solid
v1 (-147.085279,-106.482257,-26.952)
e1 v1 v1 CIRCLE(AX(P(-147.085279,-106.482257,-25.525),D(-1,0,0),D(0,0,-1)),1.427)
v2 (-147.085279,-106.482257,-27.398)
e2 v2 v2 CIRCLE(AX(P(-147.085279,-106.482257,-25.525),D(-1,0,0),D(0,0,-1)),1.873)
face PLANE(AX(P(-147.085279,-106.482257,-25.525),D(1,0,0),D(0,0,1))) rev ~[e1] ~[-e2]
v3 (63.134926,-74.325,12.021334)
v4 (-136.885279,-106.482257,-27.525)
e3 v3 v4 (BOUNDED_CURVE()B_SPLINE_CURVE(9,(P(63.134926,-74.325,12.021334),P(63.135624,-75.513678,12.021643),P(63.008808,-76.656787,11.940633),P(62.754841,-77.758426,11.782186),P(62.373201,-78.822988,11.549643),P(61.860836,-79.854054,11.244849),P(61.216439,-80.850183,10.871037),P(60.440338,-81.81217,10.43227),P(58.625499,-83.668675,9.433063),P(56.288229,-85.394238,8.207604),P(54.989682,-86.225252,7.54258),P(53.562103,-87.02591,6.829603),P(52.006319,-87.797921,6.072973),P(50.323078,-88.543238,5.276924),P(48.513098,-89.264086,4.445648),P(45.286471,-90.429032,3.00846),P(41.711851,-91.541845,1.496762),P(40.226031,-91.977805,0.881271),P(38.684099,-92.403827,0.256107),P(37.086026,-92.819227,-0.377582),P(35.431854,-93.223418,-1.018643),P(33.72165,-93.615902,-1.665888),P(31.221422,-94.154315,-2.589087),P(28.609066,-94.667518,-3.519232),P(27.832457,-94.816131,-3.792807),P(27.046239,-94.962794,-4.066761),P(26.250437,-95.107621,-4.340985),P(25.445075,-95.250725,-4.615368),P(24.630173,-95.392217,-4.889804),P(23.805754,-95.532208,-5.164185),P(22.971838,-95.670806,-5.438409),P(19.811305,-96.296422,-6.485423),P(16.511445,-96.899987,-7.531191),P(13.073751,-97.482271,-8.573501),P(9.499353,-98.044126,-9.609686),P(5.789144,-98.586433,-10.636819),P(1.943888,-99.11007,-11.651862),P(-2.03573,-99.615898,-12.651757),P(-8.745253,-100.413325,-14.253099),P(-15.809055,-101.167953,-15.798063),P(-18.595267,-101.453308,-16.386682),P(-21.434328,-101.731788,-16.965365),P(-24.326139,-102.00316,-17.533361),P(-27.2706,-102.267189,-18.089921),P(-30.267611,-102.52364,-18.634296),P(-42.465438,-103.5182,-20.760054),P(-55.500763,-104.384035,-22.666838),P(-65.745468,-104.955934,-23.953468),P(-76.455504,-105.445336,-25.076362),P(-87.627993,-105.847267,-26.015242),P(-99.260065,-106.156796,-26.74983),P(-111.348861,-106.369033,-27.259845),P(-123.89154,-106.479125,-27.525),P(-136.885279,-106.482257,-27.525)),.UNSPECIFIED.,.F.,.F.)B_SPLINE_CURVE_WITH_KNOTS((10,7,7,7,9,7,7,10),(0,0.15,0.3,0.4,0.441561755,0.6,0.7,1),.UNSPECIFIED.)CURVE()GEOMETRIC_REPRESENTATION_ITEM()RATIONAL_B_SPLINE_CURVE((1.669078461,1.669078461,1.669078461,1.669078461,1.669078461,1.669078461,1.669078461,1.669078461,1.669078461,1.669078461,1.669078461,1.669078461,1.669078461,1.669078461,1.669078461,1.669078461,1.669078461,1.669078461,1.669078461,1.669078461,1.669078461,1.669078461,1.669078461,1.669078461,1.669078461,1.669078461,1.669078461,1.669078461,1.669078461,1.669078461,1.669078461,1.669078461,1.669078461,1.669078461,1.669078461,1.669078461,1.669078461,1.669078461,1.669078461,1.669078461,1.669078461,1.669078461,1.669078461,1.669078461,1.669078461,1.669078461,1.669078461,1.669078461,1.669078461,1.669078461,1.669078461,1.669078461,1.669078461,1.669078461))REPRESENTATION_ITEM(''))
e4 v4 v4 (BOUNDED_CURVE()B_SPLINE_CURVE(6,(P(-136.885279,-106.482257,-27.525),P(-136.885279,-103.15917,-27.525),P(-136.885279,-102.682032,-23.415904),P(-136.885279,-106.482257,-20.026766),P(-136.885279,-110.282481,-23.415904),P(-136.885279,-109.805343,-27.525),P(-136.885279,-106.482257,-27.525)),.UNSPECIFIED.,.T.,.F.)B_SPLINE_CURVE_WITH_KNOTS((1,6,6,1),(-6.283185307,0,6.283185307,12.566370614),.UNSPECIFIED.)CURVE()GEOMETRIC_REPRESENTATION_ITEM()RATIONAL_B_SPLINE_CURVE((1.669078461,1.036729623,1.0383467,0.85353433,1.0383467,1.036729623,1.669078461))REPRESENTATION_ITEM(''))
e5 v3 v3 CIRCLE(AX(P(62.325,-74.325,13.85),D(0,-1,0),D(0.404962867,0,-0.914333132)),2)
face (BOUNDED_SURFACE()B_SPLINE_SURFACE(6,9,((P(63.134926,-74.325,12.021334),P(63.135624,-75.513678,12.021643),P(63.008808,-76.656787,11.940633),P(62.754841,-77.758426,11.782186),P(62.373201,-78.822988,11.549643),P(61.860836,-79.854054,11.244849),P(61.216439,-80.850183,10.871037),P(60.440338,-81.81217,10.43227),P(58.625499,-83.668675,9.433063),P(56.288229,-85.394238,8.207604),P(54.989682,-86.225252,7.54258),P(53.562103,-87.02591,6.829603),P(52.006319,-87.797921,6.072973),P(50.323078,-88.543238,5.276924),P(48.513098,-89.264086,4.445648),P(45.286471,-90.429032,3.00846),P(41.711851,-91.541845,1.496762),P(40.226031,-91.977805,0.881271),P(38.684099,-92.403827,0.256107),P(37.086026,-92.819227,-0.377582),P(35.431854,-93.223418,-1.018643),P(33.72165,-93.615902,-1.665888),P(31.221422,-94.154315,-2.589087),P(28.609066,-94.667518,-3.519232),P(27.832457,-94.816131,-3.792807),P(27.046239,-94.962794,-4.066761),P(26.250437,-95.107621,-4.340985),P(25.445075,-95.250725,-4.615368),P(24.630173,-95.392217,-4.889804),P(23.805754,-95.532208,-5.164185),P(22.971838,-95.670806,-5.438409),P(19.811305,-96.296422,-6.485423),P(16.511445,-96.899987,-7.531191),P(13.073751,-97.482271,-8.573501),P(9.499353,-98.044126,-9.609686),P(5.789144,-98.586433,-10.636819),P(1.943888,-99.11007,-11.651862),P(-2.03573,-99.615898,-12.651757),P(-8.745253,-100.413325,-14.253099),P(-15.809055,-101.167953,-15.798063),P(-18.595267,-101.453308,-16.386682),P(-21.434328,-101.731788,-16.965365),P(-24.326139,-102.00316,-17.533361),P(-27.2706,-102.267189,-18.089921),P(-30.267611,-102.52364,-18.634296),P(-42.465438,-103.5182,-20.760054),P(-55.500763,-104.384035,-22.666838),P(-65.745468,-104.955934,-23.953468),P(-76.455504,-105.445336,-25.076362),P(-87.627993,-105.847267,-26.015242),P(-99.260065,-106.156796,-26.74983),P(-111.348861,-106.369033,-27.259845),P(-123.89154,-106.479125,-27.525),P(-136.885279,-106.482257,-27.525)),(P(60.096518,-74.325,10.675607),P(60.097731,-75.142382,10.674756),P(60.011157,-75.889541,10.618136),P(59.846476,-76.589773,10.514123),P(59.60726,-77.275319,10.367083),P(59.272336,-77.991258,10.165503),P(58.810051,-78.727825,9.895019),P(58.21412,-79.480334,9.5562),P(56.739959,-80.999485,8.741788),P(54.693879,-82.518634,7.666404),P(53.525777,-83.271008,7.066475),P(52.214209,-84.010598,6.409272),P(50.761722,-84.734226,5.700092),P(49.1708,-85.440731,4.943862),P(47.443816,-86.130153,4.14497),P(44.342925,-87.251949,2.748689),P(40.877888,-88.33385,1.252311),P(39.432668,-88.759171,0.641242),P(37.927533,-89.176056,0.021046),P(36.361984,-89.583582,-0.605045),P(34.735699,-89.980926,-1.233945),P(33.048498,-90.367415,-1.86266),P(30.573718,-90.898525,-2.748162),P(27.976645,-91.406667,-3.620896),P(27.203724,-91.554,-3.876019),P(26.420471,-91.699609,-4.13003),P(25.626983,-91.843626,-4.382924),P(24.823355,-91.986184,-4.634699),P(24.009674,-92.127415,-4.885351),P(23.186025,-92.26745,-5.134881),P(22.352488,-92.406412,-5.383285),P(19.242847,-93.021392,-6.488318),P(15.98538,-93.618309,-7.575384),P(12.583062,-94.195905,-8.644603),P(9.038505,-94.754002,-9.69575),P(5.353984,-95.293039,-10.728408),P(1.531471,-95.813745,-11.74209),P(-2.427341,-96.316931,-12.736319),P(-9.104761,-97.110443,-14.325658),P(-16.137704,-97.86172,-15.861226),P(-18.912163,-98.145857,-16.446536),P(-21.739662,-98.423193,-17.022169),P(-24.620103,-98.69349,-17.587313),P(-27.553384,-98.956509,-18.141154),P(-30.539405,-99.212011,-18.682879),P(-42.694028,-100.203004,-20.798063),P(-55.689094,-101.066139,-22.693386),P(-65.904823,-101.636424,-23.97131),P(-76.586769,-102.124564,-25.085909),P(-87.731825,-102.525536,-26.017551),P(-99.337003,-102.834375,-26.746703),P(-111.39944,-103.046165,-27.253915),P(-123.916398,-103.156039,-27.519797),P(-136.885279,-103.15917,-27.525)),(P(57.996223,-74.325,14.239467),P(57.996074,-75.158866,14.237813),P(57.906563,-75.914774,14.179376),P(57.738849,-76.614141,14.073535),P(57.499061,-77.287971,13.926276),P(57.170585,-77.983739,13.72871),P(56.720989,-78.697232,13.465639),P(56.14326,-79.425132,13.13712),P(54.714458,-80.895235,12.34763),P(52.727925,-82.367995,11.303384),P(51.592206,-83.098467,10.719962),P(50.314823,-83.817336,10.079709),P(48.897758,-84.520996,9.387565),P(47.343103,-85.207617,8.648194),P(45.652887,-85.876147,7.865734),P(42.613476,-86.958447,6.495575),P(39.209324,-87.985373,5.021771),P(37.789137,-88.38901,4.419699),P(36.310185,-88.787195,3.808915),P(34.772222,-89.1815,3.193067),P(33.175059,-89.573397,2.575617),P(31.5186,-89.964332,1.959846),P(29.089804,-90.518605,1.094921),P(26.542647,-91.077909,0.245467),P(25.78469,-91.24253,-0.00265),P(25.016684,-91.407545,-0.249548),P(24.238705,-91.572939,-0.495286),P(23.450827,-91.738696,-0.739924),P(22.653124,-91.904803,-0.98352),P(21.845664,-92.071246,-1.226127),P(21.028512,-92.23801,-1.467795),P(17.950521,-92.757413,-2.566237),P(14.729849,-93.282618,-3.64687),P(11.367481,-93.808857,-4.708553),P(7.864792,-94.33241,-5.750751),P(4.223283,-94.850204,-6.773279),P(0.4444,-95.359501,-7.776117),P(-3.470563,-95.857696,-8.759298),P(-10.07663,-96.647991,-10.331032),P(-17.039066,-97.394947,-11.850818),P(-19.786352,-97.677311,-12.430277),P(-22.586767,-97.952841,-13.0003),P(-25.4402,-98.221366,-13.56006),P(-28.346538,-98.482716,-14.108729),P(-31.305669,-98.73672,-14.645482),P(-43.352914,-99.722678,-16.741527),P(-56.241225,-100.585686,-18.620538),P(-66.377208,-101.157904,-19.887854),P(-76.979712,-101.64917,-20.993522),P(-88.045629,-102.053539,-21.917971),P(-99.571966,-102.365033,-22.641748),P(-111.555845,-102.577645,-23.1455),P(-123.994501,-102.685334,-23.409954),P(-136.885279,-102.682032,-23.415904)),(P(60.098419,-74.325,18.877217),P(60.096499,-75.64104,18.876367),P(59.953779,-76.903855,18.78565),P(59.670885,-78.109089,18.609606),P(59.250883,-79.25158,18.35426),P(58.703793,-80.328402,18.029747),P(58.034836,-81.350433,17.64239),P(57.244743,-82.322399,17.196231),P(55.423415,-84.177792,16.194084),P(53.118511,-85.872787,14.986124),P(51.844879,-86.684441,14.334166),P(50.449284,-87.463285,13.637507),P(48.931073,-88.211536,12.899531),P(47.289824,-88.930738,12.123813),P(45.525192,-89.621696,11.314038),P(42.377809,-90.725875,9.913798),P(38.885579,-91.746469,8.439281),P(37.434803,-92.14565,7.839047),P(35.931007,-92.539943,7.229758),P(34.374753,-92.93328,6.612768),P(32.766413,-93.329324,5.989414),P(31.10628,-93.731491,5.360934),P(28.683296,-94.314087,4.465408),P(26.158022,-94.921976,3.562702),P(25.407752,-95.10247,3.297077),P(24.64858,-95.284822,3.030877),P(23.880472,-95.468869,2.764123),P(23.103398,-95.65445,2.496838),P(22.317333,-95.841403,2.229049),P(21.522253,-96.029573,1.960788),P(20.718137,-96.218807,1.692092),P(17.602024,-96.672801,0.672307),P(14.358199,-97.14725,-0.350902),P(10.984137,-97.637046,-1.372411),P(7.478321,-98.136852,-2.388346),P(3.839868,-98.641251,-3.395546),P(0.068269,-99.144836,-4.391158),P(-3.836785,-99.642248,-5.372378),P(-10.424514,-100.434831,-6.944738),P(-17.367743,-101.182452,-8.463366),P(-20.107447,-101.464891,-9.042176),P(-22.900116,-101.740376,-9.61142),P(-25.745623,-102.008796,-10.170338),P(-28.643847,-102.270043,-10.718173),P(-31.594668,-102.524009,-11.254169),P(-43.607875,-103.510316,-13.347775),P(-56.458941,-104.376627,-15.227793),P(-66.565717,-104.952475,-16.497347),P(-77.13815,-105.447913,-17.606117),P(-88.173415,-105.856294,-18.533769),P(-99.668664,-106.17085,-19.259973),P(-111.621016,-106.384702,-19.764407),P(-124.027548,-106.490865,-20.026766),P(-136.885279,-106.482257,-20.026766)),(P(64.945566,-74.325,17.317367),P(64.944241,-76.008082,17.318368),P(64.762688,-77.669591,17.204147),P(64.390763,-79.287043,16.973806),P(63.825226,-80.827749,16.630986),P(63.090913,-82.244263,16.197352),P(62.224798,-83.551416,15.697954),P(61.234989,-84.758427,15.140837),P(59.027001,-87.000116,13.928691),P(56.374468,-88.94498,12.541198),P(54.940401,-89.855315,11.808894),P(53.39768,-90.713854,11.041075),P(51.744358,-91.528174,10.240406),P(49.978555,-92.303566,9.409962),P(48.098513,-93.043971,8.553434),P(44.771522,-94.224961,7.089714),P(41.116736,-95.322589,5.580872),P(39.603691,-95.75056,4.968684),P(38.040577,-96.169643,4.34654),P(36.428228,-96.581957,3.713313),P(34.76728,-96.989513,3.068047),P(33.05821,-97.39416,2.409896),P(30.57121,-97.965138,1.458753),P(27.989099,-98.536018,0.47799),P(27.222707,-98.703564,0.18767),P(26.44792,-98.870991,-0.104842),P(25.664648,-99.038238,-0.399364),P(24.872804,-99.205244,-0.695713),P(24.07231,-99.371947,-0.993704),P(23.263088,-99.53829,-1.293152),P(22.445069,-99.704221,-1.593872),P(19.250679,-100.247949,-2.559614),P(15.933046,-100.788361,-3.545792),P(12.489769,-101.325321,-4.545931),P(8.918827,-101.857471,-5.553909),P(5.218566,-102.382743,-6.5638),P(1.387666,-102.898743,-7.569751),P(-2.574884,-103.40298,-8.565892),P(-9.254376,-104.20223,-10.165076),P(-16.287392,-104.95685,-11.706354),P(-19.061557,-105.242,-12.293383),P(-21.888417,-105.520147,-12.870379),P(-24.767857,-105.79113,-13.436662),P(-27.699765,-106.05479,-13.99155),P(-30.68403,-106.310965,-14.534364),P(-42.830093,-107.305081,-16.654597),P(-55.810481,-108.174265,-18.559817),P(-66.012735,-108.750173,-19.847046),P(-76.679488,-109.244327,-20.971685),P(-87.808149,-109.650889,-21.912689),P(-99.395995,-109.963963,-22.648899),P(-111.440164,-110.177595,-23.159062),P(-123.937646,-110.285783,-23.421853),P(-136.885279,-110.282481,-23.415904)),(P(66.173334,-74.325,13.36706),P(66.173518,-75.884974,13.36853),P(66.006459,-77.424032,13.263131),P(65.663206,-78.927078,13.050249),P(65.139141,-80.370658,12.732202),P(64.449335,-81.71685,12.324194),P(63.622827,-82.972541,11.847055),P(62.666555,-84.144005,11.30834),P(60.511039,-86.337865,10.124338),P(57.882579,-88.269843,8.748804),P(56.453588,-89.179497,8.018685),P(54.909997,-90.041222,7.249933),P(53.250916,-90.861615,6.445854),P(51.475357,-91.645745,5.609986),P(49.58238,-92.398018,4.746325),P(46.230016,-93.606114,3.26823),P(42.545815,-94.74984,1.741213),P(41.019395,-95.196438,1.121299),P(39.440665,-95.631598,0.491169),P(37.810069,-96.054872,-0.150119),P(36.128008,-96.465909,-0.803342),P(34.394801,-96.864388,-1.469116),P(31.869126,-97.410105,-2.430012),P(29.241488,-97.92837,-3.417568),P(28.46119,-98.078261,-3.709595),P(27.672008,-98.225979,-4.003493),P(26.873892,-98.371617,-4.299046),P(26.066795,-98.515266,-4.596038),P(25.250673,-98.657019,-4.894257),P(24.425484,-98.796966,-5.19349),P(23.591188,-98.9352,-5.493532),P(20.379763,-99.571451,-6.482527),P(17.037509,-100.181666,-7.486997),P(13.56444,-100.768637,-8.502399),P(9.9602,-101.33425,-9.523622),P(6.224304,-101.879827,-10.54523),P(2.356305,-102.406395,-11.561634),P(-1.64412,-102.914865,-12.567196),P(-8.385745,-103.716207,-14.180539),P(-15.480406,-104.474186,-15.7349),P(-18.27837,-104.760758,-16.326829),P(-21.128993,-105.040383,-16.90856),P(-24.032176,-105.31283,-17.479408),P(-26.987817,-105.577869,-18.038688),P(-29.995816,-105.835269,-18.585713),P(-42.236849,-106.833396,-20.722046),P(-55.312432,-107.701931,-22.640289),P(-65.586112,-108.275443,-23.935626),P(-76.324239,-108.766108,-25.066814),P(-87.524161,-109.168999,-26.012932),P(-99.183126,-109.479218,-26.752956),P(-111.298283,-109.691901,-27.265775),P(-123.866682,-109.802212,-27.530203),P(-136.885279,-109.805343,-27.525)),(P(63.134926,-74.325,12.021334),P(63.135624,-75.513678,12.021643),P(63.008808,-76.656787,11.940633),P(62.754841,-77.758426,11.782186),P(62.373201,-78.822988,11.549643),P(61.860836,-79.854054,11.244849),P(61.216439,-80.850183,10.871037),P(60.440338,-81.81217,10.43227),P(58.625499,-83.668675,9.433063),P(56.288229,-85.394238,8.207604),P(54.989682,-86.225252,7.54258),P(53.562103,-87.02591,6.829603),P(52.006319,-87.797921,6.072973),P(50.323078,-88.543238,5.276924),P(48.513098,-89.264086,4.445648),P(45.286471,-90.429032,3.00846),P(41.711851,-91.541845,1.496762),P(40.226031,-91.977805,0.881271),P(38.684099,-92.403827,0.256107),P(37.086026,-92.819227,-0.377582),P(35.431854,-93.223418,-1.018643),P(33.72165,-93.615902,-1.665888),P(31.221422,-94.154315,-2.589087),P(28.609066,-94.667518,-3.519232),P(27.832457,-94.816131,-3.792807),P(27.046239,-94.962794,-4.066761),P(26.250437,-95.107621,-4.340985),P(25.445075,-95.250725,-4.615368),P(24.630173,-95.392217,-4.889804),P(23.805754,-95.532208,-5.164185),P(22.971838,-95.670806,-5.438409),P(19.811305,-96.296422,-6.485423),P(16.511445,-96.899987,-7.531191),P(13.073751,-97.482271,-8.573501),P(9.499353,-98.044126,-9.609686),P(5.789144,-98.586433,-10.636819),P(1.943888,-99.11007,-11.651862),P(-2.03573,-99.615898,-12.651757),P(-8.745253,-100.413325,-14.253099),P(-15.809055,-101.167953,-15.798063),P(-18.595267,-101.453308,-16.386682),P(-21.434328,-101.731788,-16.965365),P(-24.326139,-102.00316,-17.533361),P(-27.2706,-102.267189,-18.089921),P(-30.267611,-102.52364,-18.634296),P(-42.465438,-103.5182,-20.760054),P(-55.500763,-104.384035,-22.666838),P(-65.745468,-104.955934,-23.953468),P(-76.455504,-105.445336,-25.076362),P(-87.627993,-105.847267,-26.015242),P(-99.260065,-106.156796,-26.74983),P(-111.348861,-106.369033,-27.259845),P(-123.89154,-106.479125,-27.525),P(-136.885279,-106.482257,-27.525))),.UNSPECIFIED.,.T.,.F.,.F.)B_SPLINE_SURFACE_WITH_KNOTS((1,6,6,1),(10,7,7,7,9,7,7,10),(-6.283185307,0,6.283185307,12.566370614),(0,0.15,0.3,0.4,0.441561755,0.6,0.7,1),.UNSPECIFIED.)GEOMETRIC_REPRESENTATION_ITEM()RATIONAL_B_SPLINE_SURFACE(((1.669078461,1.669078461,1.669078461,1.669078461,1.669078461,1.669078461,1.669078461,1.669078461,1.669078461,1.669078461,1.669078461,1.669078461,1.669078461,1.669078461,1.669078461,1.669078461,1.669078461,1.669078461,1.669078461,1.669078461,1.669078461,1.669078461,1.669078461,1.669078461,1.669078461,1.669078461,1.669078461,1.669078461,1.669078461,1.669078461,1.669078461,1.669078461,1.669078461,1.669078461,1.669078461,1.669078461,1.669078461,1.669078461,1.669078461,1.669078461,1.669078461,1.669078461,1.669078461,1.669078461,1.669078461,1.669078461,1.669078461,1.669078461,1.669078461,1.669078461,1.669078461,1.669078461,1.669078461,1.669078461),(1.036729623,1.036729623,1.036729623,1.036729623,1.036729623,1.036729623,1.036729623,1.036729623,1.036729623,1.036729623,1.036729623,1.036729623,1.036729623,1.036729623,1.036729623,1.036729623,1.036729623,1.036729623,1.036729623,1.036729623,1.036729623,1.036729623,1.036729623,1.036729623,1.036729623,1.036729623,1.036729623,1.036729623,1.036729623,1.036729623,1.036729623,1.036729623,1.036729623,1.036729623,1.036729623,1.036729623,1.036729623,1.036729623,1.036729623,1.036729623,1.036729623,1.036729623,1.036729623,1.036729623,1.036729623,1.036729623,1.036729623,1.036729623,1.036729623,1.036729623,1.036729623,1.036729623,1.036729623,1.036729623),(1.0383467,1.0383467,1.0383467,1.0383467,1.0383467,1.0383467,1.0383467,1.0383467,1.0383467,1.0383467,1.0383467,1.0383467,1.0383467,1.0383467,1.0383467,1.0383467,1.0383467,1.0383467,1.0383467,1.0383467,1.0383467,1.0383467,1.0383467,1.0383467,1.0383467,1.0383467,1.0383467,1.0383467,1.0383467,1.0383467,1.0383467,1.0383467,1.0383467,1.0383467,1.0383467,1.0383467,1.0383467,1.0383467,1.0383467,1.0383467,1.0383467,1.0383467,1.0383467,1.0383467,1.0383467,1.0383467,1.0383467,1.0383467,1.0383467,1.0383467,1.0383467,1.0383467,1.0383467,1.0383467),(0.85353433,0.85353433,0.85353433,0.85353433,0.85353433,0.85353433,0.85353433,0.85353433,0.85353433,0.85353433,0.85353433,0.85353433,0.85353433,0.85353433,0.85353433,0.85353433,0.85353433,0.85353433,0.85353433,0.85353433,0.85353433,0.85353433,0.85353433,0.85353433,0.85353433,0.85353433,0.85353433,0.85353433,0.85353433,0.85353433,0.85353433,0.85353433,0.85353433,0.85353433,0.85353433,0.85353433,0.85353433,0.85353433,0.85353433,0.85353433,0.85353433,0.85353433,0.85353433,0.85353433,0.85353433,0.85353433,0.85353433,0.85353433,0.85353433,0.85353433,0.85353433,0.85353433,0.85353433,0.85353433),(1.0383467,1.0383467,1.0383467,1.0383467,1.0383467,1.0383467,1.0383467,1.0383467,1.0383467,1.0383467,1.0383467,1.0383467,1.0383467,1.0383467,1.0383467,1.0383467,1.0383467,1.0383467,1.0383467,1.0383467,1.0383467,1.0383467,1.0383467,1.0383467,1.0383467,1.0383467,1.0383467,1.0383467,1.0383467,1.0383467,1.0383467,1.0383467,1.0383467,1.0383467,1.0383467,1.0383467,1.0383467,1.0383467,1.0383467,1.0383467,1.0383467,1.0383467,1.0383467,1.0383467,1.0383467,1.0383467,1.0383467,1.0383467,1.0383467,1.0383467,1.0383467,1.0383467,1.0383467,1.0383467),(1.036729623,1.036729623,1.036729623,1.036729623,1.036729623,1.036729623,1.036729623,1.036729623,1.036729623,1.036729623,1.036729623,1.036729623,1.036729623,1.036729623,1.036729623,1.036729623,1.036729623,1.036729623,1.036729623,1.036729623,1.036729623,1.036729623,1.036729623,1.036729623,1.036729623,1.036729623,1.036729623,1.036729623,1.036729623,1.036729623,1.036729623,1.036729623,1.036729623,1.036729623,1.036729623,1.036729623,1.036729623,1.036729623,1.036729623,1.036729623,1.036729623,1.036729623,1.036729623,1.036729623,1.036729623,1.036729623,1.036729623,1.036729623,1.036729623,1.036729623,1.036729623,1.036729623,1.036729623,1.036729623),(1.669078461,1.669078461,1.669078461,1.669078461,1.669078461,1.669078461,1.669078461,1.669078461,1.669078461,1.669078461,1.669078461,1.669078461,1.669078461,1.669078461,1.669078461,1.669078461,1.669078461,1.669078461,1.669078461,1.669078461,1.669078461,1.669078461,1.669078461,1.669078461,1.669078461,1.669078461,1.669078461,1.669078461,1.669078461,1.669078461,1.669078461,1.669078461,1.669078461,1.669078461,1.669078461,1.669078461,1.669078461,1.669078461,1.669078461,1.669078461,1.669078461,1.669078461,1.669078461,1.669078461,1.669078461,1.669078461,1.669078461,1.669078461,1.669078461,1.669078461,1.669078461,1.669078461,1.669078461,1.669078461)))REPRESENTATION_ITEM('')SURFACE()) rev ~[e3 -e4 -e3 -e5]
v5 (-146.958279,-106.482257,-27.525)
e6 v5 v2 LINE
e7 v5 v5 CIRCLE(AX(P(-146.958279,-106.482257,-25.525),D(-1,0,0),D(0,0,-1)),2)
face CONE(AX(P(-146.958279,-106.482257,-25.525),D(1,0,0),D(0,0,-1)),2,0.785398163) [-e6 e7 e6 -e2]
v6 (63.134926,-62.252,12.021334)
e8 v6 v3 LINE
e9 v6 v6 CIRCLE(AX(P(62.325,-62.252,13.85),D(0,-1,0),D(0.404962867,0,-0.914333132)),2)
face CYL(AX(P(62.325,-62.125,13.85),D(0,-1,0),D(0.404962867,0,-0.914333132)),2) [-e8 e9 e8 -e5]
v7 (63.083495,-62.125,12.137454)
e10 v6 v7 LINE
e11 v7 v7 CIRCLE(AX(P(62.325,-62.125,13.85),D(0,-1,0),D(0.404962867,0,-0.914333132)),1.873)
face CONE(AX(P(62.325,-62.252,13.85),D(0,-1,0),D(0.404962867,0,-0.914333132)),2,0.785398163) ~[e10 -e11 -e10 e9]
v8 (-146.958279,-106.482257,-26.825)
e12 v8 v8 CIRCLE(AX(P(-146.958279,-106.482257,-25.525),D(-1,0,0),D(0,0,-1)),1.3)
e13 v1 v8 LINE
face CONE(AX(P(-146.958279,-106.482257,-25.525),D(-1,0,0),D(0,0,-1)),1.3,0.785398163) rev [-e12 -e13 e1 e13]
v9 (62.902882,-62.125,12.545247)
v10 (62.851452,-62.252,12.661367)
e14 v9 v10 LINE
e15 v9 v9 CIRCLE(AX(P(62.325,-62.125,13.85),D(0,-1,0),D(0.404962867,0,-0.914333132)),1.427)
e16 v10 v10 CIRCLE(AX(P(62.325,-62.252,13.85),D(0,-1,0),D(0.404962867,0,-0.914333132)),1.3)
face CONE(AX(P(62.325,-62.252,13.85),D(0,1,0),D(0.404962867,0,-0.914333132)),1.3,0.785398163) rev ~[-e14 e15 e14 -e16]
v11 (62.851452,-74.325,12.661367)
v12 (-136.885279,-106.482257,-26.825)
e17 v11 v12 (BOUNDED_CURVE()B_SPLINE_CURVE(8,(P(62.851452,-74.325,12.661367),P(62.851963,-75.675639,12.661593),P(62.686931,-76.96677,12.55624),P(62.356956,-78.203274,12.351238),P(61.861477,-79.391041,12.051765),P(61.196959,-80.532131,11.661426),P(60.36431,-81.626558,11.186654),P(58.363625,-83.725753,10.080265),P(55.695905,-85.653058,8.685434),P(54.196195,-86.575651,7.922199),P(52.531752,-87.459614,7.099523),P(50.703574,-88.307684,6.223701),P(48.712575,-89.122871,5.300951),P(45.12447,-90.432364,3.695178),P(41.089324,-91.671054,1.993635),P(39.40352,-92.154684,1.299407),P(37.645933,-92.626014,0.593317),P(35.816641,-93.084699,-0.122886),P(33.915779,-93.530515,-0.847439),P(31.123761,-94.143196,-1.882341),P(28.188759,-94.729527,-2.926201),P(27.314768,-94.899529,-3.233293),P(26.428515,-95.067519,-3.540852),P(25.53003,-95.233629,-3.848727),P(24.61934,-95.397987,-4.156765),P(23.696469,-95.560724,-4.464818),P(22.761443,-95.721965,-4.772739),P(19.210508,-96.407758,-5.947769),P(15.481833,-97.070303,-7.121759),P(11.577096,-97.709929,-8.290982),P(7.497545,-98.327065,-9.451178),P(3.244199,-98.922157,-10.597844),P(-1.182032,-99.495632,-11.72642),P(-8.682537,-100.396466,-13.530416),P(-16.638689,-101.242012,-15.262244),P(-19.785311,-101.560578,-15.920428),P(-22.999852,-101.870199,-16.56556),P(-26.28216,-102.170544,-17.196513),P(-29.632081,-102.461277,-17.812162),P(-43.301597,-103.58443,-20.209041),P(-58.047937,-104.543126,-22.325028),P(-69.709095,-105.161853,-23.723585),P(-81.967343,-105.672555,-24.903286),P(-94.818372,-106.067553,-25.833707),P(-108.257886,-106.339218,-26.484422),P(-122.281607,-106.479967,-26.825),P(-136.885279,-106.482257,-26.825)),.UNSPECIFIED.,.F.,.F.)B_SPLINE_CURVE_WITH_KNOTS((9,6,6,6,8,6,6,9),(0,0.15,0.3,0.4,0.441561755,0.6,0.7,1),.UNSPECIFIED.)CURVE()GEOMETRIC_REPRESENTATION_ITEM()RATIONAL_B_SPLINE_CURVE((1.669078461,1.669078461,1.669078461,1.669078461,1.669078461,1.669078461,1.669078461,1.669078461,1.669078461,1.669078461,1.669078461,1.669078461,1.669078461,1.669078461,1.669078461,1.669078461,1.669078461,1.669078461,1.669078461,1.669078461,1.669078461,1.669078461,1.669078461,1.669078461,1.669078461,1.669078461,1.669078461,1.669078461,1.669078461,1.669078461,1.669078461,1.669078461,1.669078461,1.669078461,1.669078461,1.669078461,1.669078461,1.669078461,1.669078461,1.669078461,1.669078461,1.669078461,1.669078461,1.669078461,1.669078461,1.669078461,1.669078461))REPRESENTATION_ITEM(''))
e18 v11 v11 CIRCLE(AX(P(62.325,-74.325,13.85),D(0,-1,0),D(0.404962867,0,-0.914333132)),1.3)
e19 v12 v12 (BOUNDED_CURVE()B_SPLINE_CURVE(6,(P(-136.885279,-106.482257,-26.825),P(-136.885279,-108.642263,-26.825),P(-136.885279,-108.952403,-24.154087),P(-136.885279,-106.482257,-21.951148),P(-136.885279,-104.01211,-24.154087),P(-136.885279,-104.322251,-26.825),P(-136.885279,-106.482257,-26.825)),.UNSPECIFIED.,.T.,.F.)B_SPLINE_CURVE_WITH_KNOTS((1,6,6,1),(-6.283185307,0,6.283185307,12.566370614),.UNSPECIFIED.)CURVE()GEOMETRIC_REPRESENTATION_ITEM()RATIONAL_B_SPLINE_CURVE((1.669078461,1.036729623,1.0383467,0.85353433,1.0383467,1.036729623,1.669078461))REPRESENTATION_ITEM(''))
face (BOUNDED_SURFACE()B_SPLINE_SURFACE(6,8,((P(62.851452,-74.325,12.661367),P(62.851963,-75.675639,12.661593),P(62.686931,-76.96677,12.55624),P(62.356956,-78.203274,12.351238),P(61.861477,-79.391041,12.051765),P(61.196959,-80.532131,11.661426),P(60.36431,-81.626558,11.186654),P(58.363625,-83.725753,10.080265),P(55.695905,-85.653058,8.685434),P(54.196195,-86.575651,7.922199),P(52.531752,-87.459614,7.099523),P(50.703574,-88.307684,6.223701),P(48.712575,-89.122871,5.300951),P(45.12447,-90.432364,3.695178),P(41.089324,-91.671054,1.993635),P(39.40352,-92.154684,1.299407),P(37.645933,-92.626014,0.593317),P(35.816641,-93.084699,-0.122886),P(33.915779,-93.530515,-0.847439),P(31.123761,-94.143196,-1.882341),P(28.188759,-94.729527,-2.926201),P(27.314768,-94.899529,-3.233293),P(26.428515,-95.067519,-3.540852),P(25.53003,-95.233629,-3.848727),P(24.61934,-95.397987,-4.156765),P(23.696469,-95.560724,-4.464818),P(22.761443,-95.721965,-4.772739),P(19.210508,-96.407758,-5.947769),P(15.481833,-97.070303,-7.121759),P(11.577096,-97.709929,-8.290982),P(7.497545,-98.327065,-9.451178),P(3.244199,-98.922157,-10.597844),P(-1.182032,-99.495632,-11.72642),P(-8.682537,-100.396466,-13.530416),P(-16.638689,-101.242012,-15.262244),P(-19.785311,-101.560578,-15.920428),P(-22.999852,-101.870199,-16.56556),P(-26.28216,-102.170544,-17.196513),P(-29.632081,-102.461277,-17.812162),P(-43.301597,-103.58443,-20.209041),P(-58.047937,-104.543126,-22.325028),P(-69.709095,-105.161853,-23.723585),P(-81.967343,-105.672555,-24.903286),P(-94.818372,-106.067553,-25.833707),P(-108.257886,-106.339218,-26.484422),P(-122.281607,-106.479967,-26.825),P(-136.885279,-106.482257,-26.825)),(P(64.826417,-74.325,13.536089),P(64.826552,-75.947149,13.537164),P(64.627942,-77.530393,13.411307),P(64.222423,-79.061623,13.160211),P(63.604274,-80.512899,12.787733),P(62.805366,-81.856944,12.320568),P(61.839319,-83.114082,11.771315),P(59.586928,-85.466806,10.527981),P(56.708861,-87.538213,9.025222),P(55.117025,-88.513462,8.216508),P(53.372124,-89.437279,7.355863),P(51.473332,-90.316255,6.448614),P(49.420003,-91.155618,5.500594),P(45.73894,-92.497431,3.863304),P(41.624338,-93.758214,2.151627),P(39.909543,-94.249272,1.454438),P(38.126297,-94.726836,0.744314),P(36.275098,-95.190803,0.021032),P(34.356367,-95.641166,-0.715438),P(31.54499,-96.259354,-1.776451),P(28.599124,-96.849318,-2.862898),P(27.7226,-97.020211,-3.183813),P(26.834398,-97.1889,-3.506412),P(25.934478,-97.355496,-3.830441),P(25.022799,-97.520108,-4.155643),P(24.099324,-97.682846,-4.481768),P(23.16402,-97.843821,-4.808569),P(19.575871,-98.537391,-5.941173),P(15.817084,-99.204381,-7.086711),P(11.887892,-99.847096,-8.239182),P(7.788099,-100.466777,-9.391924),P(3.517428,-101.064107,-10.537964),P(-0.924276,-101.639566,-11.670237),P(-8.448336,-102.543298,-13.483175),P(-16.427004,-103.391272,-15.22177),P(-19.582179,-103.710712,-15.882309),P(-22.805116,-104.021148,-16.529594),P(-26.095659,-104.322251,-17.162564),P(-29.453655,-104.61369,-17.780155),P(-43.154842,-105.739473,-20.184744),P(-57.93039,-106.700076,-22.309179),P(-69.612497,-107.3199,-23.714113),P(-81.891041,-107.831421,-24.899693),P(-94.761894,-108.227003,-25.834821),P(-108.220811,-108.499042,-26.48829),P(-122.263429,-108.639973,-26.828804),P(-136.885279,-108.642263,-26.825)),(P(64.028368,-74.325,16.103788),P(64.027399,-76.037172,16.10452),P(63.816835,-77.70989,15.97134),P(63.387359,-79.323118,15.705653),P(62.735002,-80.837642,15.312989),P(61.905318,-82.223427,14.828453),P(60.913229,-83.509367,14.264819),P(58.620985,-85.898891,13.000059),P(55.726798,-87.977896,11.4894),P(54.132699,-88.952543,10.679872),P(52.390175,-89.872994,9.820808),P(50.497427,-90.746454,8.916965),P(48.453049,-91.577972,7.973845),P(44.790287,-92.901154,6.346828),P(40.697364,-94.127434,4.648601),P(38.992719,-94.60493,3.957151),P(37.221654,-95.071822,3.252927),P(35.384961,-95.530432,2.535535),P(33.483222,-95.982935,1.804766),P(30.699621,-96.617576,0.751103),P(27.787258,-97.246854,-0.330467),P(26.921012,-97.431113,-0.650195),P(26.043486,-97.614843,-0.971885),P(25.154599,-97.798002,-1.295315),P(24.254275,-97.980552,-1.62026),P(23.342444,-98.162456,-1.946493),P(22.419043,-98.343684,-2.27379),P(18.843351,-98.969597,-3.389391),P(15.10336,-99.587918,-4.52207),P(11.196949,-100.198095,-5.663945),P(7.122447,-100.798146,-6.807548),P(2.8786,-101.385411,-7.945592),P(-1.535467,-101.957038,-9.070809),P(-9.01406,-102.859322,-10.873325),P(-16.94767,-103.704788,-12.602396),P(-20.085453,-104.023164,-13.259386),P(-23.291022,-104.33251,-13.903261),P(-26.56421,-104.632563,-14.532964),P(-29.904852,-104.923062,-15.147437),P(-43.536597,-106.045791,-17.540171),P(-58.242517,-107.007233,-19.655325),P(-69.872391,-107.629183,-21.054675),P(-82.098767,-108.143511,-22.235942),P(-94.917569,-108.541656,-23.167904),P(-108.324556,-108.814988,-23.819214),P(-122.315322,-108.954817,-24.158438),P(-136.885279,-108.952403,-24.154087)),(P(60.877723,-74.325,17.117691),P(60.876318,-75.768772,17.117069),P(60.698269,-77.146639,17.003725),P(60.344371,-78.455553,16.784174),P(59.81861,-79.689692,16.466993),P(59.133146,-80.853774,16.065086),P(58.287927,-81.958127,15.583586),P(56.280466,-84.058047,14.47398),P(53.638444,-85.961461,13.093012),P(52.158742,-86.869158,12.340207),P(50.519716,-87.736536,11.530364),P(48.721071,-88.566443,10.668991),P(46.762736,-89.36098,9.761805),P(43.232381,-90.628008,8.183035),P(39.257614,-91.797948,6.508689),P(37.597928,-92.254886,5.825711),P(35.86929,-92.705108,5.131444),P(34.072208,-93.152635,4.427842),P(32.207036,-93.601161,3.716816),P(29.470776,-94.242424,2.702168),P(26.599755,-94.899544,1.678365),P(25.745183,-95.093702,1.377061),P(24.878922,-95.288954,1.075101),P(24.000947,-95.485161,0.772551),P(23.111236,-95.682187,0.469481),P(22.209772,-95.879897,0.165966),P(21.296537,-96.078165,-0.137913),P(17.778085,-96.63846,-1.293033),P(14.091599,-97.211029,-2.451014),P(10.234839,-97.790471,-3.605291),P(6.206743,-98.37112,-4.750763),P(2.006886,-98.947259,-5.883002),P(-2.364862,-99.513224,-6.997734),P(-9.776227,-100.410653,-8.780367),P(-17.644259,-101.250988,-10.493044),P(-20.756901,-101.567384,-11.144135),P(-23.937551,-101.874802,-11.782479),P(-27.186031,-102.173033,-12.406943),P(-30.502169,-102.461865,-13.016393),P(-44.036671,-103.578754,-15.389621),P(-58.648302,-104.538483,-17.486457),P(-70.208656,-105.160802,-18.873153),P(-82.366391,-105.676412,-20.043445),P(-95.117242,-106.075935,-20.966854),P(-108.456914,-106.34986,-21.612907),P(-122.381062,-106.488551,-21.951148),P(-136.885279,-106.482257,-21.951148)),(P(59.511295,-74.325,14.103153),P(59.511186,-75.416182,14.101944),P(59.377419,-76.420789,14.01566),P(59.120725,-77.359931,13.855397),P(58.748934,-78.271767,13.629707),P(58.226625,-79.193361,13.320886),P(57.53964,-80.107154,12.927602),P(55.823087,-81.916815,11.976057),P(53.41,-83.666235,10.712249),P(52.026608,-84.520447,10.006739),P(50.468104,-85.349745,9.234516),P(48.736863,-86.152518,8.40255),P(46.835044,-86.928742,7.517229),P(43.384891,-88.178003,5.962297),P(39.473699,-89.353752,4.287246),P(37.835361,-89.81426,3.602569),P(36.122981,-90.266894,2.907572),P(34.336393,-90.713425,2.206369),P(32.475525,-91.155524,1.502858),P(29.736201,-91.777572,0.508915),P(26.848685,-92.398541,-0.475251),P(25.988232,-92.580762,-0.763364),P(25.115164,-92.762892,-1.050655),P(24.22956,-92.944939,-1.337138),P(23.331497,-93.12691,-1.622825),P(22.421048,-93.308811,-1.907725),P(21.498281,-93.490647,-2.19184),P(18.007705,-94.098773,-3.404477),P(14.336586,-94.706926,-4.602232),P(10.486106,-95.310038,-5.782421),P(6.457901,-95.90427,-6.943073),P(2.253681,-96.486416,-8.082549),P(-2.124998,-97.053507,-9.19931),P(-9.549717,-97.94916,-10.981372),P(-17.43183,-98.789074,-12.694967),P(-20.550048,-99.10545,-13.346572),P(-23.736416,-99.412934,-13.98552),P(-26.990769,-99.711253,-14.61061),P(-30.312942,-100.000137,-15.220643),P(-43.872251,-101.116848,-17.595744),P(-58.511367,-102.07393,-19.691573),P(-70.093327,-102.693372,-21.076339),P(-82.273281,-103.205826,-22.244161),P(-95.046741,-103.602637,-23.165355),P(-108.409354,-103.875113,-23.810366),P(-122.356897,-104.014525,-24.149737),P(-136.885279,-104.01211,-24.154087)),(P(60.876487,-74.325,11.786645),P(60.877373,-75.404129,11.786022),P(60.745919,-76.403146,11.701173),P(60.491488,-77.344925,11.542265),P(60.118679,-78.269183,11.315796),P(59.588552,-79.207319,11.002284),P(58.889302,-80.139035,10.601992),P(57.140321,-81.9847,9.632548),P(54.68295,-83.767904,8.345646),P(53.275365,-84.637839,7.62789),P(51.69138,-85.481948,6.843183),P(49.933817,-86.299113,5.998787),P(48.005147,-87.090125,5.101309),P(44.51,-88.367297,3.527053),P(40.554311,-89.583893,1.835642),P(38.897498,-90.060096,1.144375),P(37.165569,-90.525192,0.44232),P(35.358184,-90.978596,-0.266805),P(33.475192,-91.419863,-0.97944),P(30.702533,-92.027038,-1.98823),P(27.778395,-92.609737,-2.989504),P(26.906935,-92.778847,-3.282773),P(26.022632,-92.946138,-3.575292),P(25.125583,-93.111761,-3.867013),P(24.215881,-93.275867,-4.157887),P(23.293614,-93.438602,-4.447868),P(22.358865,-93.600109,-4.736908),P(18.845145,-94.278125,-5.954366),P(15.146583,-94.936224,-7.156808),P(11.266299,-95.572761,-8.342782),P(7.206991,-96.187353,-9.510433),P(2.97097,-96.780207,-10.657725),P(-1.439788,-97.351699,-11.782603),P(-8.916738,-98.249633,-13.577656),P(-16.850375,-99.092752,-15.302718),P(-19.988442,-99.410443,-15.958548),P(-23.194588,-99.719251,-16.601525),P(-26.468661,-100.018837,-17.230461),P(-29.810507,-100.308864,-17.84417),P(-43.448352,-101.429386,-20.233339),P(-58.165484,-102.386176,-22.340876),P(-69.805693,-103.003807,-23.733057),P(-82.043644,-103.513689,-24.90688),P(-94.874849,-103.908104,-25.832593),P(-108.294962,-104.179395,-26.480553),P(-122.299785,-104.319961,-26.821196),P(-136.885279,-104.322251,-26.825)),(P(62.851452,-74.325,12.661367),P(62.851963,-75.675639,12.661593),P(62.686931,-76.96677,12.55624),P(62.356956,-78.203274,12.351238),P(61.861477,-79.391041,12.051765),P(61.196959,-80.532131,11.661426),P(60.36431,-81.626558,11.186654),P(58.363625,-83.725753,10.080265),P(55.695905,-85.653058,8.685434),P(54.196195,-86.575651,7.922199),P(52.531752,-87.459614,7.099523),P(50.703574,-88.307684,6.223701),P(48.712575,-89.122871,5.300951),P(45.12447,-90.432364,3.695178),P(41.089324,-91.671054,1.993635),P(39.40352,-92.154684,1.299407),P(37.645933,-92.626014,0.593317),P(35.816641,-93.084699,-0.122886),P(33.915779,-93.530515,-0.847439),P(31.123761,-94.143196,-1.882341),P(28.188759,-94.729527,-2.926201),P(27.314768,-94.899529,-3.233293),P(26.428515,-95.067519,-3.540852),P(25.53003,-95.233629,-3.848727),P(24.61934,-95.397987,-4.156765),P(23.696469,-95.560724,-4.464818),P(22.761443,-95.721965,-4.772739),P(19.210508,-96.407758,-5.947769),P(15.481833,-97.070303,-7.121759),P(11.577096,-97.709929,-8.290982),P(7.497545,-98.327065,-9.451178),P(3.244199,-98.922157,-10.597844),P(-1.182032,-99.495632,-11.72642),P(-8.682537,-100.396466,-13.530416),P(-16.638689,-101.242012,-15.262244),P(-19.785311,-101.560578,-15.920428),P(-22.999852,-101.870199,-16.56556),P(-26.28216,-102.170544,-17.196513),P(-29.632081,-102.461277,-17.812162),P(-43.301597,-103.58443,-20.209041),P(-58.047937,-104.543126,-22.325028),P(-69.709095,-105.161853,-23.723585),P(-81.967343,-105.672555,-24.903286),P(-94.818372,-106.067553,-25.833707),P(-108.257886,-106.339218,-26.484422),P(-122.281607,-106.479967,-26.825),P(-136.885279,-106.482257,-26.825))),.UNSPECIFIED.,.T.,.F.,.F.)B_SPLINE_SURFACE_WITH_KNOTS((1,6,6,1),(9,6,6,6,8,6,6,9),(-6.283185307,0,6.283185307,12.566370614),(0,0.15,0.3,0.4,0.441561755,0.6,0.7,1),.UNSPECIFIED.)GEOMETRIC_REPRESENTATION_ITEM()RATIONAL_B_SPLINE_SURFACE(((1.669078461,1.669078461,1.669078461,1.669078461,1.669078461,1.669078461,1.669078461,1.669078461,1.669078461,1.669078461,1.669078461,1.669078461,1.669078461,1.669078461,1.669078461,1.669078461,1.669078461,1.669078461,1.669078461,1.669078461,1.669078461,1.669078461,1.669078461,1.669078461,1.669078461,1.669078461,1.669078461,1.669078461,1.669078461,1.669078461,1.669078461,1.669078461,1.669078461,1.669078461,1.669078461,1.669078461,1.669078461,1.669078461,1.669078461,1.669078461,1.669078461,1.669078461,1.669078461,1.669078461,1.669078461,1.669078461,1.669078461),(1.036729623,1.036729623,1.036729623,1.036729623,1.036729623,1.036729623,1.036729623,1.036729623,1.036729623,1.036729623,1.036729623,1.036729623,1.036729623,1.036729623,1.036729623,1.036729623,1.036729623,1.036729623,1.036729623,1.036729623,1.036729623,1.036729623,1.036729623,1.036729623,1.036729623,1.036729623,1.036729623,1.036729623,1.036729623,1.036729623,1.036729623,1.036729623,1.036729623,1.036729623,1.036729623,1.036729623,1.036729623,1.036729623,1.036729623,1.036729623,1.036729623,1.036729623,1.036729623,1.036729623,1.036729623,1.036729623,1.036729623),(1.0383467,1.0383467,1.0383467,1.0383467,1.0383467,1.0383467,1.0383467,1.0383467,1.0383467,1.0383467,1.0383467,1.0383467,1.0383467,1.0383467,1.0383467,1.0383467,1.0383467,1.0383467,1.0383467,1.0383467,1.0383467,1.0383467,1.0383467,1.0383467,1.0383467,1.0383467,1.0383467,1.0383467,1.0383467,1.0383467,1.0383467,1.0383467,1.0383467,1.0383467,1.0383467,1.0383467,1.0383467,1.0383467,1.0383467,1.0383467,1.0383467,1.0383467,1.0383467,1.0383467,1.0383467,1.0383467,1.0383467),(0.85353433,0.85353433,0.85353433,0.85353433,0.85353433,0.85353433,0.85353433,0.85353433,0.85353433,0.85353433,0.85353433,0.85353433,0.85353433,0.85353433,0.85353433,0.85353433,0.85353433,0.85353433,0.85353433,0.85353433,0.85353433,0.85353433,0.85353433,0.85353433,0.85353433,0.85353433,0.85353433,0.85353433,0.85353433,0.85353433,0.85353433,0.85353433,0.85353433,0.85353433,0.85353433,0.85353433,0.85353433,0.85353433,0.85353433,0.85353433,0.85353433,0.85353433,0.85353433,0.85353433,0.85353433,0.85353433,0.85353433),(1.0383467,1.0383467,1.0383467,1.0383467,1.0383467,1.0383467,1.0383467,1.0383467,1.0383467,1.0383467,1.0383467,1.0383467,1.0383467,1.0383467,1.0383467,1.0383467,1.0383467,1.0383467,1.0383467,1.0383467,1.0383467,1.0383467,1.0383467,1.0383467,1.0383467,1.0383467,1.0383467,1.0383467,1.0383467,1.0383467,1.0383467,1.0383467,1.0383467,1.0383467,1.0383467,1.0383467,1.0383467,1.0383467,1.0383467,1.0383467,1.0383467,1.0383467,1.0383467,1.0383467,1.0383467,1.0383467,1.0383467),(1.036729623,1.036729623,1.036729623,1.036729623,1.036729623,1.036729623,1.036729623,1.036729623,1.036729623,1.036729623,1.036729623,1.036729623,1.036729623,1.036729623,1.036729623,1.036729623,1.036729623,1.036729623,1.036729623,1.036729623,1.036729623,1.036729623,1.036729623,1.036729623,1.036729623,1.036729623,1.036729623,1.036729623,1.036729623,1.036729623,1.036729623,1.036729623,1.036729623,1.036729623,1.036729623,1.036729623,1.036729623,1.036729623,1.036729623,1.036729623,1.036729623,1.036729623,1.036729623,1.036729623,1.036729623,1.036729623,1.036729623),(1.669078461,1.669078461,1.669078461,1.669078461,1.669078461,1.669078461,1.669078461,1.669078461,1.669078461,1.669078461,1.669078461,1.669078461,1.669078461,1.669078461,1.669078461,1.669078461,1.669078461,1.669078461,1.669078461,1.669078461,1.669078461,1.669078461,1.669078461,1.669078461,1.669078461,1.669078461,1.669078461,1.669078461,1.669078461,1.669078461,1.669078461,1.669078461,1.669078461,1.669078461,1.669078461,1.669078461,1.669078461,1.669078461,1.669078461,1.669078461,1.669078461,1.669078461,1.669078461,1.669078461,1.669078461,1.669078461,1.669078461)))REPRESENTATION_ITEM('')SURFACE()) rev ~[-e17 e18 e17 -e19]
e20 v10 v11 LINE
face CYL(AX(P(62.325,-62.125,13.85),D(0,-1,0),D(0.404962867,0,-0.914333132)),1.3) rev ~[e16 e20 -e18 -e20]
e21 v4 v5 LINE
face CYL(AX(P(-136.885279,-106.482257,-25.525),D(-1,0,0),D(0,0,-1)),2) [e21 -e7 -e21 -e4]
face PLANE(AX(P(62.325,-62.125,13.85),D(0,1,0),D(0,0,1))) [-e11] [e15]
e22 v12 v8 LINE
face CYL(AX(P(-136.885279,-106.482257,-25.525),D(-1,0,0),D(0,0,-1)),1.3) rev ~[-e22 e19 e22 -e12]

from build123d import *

# Parameters (mm, degrees)
SKETCH1_R     = 2
SKETCH1_R_2   = 1.3
CHAMFER1_SIZE = 0.127


with BuildPart() as part:
    # Sweep1: sweep along a curve in space
    with BuildLine() as sweep1_path:
        Line((-136.885279081, -106.482256564, -25.525), (-147.085279081, -106.482256564, -25.525))
        add(Edge.make_bspline(
            [(62.325, -74.325, 13.85), (62.325, -85.122503373, 13.85), (31.460753901, -98.362999613, -5.8375), (-64.525857192, -106.482256564, -25.525), (-136.885279081, -106.482256564, -25.525)],
            knots=[0, 0, 0, 0, 0.441561755, 1, 1, 1, 1], degree=3))
        Line((62.325, -62.125, 13.85), (62.325, -74.325, 13.85))
    # Sketch1 → Sweep1 (sweep)
    with BuildSketch(Plane(origin=(-139.385279081, 0, 0), x_dir=(0, 0, -1), z_dir=(1, 0, 0))):
        with Locations((25.525, -106.482256564)):
            Circle(SKETCH1_R)
        with Locations((25.525, -106.482256564)):
            Circle(SKETCH1_R_2, mode=Mode.SUBTRACT)
    sweep(path=sweep1_path.line)

    # Chamfer1
    chamfer1_edges = [part.edges().sort_by_distance(p)[0] for p in [
        (61.798548272, -62.125, 15.038633071),
        (-147.085279081, -106.482256564, -24.225),
        (61.515074265, -62.125, 15.678666264),
        (-147.085279081, -106.482256564, -23.525),
    ]]
    chamfer(chamfer1_edges, length=CHAMFER1_SIZE)


solid = part.part
